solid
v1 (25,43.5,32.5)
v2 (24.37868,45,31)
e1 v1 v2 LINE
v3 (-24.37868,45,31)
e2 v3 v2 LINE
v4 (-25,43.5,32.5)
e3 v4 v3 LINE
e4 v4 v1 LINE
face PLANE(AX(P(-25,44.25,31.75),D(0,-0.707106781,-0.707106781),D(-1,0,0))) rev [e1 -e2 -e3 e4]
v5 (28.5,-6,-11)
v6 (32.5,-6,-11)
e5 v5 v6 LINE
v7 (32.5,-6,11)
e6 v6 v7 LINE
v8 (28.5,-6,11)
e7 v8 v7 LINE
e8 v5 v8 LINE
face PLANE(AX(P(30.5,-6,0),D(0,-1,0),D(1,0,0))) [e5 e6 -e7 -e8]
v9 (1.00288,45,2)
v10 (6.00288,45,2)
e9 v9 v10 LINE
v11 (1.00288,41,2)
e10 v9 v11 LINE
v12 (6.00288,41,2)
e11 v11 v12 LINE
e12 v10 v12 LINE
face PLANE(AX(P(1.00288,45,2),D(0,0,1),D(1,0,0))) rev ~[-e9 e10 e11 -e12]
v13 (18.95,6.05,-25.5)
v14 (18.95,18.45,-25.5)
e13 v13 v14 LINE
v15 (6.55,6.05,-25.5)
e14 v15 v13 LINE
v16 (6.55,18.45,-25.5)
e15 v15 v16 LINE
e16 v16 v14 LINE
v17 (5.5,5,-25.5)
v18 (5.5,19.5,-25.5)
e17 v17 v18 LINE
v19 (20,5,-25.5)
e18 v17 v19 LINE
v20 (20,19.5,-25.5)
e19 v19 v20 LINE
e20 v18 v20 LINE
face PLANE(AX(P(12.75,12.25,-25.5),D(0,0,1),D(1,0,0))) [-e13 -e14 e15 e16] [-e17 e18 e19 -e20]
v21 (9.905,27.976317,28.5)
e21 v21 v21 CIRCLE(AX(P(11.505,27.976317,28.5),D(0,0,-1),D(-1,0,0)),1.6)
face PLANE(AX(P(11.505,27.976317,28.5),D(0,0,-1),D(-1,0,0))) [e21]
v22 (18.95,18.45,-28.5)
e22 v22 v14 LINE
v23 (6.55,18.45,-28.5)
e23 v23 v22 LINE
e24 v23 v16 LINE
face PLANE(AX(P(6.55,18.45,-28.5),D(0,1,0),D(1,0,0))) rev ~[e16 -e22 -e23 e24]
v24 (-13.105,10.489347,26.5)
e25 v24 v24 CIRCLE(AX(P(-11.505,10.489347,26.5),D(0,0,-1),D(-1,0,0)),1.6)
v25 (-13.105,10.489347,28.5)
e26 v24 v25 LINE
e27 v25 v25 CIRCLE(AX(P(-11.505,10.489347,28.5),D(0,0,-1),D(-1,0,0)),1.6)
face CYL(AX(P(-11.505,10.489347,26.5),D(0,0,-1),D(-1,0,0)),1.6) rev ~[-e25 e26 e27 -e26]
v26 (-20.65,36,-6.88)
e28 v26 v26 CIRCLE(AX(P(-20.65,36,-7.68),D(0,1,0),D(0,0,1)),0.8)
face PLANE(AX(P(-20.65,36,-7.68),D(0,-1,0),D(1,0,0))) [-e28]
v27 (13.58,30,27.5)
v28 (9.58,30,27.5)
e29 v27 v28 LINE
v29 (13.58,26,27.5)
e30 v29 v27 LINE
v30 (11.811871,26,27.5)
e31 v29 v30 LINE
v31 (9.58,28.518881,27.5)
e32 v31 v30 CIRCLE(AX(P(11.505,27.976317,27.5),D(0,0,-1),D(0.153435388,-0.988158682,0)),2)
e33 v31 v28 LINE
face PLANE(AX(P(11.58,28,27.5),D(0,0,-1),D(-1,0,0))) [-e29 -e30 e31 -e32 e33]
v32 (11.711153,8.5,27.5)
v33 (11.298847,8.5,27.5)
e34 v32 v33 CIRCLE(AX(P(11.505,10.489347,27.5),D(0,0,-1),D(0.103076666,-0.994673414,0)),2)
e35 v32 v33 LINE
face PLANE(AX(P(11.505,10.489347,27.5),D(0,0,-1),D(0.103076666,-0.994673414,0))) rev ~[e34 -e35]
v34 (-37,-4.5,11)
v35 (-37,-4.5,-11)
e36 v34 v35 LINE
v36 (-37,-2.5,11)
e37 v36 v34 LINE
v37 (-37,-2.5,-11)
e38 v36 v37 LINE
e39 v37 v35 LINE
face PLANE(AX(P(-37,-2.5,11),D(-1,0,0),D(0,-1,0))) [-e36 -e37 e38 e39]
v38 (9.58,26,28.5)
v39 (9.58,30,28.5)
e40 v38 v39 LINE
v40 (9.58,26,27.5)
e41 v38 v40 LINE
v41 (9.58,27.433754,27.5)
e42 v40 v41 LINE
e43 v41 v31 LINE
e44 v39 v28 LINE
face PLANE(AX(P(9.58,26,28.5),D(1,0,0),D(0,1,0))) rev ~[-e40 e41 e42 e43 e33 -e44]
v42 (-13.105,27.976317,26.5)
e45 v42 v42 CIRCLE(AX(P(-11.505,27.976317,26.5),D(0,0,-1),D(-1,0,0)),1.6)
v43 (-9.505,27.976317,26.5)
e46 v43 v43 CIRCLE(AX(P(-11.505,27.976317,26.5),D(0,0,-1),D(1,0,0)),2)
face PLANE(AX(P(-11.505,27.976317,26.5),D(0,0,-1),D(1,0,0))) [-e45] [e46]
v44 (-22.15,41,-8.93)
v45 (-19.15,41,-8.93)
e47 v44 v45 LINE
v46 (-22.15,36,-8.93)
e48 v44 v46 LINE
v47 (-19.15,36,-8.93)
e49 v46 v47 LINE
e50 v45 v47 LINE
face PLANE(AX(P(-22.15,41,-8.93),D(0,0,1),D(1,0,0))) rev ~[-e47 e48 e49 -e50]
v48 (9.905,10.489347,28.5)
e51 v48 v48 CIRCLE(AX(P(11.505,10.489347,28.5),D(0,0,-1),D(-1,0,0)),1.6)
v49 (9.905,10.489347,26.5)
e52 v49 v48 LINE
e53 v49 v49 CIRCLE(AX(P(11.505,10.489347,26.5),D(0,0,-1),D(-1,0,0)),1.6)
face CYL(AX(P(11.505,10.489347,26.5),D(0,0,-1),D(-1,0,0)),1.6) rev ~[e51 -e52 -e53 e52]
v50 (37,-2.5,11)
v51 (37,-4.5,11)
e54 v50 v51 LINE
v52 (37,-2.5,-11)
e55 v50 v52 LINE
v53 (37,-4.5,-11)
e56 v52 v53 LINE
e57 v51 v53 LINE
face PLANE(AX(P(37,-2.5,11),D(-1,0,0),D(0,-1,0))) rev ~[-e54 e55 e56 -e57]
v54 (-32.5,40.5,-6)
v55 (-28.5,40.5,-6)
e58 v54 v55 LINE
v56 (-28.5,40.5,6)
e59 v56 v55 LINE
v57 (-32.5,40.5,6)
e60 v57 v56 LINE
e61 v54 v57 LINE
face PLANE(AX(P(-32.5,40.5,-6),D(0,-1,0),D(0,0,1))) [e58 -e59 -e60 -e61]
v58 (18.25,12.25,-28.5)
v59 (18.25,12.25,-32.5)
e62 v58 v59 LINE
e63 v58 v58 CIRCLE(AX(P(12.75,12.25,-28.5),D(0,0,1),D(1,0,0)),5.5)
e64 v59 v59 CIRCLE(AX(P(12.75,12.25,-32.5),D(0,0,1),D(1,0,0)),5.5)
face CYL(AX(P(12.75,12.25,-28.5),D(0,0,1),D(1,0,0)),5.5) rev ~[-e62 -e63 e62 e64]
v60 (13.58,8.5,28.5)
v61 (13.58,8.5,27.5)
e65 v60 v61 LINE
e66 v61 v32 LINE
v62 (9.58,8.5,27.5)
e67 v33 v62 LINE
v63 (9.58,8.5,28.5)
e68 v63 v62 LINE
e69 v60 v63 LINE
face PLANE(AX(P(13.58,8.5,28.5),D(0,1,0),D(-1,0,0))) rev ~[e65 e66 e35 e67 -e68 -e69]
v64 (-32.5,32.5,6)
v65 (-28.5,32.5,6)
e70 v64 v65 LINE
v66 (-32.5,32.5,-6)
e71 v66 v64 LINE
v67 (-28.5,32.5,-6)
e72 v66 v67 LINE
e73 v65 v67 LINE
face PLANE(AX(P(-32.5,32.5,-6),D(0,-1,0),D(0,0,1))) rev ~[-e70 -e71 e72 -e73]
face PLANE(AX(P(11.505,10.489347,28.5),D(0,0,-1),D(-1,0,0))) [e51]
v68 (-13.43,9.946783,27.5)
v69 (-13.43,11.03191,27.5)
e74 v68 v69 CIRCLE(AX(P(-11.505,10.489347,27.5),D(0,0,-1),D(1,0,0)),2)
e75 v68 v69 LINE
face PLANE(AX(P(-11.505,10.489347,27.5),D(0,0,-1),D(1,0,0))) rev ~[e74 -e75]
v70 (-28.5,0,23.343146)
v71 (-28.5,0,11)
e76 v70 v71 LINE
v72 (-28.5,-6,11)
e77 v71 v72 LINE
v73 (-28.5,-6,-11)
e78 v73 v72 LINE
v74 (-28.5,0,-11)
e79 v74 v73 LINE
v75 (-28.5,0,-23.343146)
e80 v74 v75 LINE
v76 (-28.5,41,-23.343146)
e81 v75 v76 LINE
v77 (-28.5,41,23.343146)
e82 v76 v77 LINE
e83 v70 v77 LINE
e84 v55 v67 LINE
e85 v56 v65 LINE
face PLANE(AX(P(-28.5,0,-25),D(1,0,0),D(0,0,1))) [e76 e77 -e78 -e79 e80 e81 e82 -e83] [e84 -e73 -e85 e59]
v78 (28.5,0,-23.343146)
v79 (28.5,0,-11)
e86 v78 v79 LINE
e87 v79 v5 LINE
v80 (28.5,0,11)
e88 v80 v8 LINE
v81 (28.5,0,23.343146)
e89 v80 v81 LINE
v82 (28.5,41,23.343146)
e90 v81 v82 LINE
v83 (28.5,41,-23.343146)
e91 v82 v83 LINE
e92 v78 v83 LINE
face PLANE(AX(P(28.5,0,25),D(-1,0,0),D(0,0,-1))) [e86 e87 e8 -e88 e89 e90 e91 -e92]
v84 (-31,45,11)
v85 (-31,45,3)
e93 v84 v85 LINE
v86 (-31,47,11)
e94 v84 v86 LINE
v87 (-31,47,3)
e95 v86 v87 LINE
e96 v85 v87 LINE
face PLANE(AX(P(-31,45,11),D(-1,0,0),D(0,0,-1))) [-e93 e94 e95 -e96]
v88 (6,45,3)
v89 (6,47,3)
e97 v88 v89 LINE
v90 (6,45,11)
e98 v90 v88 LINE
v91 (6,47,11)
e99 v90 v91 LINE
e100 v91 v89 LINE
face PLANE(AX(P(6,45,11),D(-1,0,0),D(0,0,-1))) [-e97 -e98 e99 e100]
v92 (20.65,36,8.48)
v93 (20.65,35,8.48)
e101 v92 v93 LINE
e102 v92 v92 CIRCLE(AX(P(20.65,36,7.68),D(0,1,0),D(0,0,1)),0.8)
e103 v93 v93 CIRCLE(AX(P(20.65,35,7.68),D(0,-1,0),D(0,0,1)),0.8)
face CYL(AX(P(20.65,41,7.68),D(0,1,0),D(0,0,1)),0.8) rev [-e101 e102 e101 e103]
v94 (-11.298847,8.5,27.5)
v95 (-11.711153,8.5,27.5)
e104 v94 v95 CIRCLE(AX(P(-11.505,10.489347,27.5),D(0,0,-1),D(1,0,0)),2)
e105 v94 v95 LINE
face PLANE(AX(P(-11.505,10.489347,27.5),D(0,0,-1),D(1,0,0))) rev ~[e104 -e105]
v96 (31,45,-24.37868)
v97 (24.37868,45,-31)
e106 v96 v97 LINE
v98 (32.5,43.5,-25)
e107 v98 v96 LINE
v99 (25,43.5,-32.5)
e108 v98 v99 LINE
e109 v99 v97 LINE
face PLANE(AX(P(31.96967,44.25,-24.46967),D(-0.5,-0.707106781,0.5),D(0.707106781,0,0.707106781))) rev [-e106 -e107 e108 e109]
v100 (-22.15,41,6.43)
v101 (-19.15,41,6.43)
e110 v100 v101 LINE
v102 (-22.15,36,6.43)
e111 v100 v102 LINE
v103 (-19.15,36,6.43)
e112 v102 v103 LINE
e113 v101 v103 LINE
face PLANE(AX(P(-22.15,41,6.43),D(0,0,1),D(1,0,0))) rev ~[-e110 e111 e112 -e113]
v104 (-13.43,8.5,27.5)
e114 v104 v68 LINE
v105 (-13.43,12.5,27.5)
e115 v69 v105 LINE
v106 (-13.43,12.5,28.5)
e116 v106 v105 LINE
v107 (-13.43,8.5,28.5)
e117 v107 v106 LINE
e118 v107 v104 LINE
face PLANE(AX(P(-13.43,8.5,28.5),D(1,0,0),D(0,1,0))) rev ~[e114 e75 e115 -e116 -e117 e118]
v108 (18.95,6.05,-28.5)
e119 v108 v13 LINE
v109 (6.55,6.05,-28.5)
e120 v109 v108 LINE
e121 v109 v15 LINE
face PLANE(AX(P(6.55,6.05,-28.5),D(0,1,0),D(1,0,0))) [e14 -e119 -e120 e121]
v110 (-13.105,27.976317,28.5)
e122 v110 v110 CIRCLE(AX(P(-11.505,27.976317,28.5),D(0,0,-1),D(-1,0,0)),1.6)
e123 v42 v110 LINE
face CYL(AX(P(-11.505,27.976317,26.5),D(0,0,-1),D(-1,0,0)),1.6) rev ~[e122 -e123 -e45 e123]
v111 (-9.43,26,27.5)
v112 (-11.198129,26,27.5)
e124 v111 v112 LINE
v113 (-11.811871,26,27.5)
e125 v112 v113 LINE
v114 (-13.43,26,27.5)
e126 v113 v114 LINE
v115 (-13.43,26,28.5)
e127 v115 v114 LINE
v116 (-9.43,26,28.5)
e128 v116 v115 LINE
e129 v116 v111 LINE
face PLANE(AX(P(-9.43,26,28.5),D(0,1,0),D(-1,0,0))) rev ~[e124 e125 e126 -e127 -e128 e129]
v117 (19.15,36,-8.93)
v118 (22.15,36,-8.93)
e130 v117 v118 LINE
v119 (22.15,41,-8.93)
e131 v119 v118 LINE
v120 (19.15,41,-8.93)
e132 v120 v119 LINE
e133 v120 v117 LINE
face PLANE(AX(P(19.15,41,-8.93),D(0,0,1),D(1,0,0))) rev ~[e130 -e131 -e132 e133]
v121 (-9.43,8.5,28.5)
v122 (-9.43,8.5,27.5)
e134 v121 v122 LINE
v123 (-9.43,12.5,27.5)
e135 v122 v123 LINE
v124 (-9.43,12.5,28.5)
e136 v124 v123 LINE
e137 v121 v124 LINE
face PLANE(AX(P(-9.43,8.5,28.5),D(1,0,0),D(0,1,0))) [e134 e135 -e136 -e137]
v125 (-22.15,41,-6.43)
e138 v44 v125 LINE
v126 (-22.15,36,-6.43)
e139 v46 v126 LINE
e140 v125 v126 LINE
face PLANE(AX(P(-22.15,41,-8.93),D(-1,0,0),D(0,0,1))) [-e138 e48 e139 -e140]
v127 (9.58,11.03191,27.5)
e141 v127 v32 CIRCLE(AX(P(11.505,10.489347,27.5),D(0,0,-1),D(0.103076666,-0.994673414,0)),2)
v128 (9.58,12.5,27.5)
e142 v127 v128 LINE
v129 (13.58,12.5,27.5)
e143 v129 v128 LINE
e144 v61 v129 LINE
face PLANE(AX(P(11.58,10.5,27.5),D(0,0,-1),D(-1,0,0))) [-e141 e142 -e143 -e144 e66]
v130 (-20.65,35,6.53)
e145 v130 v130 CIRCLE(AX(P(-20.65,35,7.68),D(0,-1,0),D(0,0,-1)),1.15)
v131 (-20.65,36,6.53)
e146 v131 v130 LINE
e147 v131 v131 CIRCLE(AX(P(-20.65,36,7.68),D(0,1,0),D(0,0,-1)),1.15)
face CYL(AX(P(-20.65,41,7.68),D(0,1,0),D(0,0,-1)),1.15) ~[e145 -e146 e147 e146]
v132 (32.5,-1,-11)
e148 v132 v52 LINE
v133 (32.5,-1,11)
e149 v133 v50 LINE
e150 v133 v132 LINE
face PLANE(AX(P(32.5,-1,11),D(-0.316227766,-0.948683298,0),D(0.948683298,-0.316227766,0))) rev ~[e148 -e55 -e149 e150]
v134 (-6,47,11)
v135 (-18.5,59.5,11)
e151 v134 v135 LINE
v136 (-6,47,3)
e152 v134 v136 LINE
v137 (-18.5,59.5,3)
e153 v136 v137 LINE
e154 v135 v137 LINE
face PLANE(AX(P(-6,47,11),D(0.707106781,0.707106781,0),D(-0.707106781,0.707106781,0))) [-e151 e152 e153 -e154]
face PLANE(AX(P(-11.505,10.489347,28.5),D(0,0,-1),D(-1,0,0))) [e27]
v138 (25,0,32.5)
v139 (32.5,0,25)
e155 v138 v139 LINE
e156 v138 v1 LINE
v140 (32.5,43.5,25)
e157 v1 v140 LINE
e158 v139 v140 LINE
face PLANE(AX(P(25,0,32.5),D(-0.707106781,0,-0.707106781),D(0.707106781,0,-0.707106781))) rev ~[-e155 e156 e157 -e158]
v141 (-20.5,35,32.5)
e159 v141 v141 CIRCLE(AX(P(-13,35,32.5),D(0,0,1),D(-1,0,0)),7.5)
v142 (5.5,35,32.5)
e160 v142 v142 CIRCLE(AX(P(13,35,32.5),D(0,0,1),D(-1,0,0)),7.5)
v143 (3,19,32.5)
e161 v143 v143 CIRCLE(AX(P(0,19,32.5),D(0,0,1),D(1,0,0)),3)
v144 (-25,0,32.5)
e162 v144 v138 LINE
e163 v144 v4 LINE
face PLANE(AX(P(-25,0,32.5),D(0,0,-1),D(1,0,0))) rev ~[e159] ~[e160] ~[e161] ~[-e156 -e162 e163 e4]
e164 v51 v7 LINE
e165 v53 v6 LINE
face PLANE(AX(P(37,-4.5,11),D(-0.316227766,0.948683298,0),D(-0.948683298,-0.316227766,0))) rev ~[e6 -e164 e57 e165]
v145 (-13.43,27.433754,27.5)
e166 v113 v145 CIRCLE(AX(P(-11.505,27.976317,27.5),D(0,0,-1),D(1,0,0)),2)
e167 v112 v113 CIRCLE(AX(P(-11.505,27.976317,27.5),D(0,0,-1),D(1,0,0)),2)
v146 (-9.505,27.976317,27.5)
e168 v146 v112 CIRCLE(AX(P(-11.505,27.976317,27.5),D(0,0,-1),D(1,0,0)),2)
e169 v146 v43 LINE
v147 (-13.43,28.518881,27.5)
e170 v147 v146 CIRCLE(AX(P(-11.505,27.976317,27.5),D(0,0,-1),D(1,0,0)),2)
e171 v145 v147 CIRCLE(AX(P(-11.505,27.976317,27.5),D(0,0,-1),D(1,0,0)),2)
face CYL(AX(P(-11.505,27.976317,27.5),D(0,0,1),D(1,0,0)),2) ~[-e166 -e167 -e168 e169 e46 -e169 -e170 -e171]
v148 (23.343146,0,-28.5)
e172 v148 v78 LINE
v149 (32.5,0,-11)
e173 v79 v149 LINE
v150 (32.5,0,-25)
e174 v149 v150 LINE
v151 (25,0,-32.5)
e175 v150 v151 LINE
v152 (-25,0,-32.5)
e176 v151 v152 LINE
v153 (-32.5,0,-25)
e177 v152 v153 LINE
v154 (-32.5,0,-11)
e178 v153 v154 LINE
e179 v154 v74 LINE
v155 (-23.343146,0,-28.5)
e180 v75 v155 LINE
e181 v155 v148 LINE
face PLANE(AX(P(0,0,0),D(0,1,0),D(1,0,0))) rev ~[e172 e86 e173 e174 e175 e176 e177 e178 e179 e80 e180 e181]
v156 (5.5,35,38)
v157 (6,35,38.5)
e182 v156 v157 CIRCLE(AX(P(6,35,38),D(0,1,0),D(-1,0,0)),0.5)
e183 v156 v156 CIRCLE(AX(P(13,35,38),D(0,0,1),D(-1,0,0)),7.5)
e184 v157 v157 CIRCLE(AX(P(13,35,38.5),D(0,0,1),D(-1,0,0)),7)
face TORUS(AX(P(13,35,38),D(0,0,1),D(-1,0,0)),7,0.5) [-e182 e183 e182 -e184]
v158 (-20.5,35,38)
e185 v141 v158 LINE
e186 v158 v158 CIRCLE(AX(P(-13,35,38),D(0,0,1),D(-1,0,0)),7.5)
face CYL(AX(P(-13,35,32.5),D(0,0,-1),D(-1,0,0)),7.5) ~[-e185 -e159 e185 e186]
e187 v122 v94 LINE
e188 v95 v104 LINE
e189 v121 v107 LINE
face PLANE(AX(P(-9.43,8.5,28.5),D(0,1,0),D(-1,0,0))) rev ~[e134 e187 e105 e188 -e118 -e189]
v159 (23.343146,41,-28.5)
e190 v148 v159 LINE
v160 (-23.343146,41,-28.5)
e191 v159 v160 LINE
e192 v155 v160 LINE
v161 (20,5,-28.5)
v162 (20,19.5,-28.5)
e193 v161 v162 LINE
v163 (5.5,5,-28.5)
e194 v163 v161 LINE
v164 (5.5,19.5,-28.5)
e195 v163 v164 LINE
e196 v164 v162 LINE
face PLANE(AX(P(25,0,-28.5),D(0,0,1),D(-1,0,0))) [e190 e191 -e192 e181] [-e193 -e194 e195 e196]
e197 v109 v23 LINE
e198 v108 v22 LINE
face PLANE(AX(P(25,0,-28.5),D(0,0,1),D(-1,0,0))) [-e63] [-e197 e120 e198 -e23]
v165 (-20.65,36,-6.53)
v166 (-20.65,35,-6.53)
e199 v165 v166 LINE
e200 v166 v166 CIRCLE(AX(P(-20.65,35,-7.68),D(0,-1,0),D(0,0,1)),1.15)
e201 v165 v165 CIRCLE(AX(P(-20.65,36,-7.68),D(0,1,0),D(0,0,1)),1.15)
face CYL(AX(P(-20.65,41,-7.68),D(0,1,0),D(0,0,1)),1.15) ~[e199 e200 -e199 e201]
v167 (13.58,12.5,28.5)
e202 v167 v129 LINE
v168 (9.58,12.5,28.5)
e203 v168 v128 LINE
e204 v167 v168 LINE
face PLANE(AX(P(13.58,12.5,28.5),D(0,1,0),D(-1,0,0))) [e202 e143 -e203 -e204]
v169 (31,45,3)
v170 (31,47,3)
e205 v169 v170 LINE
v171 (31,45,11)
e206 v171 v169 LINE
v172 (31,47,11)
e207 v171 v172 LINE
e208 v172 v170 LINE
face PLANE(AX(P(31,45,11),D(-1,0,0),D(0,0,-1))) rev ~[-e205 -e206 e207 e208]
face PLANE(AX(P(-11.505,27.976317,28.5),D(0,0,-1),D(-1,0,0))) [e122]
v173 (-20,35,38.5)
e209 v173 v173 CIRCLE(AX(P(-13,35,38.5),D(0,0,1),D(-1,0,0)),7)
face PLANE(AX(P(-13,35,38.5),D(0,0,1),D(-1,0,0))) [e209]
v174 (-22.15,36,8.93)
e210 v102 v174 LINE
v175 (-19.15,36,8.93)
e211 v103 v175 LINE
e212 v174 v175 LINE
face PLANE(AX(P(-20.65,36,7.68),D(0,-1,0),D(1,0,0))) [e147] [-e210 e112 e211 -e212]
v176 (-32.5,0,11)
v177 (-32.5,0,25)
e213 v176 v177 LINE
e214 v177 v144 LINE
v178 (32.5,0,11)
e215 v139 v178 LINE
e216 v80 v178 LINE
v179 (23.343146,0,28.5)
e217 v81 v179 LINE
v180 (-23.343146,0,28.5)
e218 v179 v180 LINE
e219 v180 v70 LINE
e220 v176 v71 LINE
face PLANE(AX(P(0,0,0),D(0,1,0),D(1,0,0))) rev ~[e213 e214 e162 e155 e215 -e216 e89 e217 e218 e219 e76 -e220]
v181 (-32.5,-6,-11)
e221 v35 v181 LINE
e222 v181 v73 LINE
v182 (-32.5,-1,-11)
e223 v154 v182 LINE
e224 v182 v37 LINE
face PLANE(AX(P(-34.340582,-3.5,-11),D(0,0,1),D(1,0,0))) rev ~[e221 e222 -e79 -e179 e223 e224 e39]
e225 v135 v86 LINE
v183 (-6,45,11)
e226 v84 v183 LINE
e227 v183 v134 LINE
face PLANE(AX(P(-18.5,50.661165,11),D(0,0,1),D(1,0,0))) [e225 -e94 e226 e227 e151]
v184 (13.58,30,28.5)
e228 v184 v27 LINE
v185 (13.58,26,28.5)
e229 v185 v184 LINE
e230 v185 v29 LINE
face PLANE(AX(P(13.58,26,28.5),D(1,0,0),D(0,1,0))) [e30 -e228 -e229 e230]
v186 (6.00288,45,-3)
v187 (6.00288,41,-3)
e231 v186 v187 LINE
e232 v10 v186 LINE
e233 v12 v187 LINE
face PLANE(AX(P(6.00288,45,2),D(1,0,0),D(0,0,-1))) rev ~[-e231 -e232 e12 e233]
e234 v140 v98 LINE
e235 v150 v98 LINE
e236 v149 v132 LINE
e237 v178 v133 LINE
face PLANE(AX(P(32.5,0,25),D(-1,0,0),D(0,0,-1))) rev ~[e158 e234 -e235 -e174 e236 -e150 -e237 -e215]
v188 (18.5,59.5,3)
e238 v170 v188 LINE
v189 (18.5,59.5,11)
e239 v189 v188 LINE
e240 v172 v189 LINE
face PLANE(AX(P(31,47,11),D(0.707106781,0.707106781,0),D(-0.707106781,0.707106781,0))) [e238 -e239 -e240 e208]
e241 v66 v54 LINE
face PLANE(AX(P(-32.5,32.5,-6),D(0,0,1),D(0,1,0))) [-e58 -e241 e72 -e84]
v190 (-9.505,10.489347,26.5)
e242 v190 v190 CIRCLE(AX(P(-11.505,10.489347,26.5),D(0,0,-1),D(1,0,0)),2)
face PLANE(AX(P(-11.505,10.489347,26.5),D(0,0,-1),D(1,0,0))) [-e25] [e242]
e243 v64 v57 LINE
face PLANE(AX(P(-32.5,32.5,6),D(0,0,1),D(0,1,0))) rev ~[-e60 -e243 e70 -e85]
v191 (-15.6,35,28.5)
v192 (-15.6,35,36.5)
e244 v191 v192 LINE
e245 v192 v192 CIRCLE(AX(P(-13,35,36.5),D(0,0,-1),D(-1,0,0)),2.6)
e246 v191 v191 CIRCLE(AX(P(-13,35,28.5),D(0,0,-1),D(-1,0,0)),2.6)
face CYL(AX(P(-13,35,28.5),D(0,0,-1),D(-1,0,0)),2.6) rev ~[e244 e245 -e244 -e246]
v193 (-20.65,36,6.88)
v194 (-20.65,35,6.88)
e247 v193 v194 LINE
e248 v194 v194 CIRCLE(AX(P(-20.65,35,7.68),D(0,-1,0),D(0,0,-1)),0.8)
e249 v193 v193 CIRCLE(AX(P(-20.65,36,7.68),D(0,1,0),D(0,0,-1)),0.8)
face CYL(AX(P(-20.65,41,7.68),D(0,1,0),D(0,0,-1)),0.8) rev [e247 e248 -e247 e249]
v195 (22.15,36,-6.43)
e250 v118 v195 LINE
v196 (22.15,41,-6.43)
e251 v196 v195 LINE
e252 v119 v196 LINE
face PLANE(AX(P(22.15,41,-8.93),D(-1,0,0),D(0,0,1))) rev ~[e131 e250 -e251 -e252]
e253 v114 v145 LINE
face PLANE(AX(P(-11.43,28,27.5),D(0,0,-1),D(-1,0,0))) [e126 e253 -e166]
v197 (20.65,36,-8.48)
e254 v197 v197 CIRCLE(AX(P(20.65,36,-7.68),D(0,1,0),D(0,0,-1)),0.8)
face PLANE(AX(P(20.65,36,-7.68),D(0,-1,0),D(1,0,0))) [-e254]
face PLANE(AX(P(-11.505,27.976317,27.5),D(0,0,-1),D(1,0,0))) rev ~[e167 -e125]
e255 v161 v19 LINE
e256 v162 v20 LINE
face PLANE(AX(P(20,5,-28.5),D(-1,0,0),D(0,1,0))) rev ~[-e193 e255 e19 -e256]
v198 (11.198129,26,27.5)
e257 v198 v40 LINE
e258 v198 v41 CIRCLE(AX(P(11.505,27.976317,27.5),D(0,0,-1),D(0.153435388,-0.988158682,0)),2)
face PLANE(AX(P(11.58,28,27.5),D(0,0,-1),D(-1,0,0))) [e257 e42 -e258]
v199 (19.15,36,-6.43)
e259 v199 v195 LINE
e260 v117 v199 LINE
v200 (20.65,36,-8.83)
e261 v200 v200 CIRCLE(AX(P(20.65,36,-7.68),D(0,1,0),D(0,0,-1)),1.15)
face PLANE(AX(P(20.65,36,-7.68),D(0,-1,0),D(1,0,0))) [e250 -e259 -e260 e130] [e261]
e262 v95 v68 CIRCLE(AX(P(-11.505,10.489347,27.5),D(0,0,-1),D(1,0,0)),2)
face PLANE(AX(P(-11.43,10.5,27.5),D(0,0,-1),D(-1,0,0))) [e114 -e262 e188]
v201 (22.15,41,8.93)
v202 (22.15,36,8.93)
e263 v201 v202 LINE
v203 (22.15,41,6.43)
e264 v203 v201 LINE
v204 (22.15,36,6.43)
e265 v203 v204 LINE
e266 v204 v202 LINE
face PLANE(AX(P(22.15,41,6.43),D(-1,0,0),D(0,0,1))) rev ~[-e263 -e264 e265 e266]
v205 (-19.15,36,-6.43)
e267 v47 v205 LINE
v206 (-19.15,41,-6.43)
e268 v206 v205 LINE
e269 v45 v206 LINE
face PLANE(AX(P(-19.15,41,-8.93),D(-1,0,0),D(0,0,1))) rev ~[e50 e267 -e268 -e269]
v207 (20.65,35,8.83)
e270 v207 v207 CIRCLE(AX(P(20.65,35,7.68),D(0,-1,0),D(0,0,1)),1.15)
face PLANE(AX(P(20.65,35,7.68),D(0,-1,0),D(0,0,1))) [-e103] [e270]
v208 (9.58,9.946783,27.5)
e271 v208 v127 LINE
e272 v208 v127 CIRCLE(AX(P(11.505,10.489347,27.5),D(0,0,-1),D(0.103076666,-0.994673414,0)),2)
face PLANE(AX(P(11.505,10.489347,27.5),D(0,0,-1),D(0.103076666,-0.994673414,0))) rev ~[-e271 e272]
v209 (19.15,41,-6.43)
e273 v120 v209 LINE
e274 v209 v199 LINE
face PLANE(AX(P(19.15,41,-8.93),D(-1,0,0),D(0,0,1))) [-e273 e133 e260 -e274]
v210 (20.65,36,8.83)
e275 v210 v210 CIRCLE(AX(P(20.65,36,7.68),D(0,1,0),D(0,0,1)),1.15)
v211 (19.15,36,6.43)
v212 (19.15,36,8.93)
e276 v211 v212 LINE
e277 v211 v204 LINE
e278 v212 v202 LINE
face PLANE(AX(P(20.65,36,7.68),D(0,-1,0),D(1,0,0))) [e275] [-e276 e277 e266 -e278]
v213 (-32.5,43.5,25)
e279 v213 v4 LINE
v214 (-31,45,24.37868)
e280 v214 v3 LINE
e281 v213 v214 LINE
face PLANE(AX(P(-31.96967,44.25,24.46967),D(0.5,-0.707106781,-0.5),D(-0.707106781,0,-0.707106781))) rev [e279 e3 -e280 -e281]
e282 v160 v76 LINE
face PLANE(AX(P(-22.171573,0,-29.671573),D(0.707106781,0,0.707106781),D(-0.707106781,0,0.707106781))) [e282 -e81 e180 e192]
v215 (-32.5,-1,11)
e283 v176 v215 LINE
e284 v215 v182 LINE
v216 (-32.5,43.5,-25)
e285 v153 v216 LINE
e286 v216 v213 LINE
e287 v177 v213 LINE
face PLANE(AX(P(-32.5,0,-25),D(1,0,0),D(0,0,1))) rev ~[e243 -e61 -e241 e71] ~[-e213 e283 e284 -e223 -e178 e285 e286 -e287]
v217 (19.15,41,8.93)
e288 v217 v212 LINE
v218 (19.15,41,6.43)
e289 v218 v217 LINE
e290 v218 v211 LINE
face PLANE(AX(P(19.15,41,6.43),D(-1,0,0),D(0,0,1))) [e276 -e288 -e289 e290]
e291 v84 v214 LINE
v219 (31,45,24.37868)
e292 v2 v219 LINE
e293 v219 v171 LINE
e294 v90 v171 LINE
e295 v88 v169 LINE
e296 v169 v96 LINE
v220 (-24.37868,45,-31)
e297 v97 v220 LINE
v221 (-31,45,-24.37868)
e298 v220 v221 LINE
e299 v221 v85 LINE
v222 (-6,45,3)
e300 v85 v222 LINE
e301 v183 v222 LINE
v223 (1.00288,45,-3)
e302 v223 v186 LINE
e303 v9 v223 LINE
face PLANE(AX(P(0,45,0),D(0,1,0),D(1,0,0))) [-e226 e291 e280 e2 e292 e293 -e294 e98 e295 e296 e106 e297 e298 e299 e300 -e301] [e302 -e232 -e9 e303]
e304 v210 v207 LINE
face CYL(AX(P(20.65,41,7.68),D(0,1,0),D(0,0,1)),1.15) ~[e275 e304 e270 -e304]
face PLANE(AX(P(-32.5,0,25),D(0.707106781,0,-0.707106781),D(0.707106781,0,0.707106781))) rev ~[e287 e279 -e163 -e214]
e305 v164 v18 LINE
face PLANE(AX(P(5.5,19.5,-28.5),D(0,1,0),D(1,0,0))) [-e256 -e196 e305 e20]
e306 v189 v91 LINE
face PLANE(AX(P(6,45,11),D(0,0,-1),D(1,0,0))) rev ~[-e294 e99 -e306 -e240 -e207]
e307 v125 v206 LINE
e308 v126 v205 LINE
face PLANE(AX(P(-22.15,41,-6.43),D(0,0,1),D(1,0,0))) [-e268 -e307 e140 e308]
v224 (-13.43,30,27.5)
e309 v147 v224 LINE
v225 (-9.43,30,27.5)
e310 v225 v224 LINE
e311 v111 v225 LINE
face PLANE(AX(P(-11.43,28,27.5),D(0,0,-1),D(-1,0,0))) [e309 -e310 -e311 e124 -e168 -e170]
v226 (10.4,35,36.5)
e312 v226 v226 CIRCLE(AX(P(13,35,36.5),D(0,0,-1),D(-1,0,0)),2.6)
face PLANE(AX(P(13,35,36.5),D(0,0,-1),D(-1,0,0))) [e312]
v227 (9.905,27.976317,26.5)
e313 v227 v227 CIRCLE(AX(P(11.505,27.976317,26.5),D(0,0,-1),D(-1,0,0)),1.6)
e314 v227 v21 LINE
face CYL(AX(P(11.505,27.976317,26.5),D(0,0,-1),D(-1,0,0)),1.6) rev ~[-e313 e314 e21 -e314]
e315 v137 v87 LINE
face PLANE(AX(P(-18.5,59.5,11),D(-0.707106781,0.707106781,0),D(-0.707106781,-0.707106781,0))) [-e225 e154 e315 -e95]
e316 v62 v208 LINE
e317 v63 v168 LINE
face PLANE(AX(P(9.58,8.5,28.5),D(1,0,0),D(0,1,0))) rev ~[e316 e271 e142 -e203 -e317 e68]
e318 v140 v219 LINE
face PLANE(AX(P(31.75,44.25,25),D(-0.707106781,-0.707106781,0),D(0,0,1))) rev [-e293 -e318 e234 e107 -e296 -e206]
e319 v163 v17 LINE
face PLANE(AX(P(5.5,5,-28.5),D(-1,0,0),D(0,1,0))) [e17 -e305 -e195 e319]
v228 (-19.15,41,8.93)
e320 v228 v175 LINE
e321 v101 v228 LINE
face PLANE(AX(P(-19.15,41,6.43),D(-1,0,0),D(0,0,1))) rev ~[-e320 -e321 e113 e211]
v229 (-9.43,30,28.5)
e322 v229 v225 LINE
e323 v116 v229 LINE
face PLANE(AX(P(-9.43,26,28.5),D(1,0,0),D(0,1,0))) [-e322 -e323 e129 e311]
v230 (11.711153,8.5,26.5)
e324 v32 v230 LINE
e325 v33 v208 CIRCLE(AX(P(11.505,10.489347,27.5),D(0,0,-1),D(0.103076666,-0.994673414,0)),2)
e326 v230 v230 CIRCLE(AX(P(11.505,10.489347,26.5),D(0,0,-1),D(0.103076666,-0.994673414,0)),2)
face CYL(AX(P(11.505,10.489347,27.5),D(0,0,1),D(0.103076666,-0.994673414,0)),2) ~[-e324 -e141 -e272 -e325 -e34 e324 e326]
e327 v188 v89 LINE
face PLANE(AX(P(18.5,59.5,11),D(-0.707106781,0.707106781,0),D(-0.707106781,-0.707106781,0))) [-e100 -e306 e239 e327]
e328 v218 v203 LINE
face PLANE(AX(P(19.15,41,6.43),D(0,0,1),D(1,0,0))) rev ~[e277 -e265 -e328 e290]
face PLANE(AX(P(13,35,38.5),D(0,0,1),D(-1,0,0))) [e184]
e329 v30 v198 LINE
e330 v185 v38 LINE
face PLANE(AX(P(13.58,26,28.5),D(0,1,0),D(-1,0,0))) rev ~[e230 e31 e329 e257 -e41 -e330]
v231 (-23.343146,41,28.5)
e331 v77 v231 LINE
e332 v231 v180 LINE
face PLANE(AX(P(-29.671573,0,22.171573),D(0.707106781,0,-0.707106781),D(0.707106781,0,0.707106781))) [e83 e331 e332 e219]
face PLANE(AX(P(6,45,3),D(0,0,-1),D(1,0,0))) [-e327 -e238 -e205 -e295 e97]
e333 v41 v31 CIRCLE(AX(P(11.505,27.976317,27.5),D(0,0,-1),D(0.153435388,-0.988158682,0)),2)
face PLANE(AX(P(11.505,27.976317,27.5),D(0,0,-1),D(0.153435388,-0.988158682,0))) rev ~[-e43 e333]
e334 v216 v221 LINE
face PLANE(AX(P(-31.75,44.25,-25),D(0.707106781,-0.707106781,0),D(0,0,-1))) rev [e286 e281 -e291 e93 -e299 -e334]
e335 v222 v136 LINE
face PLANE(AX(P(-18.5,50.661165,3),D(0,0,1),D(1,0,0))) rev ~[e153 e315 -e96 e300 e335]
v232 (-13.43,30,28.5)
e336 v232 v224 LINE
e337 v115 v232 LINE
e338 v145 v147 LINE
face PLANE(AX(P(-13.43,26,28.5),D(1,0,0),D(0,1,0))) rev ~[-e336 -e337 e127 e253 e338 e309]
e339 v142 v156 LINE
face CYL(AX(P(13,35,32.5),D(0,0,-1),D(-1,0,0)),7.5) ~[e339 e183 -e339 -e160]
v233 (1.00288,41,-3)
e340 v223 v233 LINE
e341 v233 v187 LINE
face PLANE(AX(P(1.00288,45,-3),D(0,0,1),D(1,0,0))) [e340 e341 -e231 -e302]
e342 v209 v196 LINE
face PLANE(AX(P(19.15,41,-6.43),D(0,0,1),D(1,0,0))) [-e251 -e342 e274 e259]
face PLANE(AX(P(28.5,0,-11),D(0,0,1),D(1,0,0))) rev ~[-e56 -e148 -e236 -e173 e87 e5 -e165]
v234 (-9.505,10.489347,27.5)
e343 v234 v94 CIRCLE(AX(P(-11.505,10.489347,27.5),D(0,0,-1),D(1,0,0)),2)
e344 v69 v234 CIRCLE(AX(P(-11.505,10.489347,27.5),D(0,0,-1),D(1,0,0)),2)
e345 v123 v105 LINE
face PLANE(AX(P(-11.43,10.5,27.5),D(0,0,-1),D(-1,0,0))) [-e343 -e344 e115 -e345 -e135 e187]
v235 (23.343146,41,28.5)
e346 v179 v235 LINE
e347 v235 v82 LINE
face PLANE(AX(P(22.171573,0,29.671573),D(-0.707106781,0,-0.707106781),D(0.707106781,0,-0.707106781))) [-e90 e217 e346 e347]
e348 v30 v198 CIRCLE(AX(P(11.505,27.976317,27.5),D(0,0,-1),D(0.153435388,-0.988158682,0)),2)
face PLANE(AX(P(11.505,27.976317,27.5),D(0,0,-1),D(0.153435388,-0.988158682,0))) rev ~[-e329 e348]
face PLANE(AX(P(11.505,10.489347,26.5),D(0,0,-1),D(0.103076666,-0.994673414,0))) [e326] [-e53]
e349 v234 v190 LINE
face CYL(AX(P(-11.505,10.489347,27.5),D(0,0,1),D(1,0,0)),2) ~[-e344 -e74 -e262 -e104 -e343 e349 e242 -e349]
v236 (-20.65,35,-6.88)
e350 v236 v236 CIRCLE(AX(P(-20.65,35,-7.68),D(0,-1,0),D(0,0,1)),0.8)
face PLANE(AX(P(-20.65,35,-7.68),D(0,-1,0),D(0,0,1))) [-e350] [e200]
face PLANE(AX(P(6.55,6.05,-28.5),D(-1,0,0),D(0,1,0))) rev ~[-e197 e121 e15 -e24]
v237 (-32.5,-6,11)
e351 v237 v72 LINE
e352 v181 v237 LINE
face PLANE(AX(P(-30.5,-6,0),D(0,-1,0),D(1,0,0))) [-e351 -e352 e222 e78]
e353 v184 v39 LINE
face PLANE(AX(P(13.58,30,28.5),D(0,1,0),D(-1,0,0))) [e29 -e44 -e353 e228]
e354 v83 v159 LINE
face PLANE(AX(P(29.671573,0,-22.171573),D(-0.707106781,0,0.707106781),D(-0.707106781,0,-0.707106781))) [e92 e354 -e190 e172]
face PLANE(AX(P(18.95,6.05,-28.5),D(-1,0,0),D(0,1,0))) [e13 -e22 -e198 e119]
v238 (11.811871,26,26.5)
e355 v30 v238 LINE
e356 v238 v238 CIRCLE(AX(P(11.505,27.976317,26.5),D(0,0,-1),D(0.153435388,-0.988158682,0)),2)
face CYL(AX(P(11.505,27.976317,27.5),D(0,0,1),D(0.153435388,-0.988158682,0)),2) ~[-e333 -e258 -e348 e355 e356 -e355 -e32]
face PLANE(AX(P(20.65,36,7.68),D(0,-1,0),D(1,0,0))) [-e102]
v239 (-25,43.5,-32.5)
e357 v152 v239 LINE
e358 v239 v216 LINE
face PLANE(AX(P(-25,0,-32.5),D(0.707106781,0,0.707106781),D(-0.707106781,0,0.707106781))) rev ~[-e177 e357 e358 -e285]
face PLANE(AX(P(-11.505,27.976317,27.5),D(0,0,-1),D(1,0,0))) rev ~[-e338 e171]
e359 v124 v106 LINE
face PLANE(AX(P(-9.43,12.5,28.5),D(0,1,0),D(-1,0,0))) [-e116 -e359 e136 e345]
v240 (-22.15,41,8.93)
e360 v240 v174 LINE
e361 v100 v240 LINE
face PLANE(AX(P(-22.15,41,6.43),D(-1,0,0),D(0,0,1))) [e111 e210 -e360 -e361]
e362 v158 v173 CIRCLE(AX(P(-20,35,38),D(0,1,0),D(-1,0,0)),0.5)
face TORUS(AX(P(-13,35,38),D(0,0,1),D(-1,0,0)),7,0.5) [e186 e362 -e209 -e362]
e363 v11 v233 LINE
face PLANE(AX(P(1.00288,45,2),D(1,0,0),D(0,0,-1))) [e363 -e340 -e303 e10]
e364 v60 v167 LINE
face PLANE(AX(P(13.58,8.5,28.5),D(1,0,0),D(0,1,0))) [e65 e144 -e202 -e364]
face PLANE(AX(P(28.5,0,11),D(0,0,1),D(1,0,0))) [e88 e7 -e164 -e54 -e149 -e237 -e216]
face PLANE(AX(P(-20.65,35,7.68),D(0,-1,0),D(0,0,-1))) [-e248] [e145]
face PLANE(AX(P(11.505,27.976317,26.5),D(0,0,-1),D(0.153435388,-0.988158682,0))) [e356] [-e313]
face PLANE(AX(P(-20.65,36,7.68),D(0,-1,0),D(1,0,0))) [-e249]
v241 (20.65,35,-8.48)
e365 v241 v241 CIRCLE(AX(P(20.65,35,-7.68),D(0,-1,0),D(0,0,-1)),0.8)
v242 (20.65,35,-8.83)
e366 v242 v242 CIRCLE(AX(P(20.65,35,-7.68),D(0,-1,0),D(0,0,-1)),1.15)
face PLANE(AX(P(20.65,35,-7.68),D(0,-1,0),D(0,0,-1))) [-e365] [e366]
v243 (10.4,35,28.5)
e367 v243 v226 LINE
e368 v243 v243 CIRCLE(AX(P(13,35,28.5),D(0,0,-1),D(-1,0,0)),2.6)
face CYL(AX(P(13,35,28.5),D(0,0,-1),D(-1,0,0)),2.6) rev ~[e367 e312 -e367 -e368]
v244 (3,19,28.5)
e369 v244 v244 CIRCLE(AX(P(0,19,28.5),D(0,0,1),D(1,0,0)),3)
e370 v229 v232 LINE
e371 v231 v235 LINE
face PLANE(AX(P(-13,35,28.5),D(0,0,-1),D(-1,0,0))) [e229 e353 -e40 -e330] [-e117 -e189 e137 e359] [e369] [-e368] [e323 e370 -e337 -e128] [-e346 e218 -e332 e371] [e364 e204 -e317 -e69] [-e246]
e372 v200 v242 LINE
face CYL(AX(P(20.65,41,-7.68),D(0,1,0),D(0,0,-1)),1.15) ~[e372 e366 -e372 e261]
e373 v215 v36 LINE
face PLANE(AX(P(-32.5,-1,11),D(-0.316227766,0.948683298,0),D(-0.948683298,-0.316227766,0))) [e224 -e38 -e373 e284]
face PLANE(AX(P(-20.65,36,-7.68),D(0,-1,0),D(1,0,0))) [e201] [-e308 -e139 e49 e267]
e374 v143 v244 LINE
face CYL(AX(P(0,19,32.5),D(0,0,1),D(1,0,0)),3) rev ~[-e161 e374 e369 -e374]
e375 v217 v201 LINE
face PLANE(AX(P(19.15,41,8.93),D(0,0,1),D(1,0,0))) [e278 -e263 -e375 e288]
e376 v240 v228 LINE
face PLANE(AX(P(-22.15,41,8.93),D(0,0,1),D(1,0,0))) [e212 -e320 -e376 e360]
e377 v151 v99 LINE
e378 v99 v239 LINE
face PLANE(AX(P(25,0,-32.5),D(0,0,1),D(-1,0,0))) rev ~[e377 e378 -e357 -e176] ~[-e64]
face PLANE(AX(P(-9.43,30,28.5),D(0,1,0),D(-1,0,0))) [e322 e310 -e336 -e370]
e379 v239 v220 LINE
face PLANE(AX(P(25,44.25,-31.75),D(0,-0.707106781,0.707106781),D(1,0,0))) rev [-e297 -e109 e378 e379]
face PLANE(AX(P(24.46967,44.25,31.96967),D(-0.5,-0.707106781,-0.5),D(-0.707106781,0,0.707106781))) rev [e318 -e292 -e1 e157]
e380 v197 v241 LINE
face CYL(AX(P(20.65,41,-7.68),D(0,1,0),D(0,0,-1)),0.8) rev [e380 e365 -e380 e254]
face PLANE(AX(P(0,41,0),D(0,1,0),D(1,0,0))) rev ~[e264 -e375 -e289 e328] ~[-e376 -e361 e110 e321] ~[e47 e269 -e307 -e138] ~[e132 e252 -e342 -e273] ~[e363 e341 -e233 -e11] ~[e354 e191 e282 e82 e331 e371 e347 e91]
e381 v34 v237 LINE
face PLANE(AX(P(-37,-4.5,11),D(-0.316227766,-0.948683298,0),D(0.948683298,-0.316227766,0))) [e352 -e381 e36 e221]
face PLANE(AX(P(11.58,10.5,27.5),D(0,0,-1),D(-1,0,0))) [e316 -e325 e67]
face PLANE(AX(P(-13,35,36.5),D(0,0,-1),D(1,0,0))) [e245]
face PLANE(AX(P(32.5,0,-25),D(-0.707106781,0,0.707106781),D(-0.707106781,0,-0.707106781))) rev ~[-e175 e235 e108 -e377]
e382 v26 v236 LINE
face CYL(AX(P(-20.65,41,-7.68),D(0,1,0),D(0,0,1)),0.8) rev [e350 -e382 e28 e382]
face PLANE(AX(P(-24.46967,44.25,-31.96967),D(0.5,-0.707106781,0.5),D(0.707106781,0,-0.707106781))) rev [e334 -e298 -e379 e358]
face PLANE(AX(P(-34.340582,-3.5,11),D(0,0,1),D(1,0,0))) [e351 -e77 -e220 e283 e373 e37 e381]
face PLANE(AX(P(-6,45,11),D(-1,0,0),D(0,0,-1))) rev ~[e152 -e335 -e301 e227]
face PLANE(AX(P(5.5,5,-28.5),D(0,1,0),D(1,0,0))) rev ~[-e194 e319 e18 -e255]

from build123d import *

# Parameters (mm, degrees)
SALIENTE_EXTRUIR1_DEPTH  = 45
VACIADO2_T               = -4
CHAFL_N3_SIZE            = 1.5
CROQUIS2_R               = 7.5
SALIENTE_EXTRUIR2_DEPTH  = 6
CROQUIS4_R               = 5
CORTAR_EXTRUIR2_DEPTH    = 8
REDONDEO1_R              = 0.5
CROQUIS5_R               = 3
CORTAR_EXTRUIR3_DEPTH    = 10
SALIENTE_EXTRUIR8_START  = 8
CROQUIS13_R              = 5
CROQUIS13_R_2            = 2.6
SALIENTE_EXTRUIR8_DEPTH  = 8
CROQUIS7_W               = 4
CROQUIS7_H               = 4
SALIENTE_EXTRUIR3_DEPTH  = 1
CROQUIS8_R               = 2
SALIENTE_EXTRUIR4_DEPTH  = 1
CROQUIS9_R               = 1.6
CORTAR_EXTRUIR5_DEPTH    = 2
CROQUIS10_W              = 25
CROQUIS10_H              = 8
SALIENTE_EXTRUIR5_DEPTH  = 2
SALIENTE_EXTRUIR6_DEPTH  = 8
CROQUIS12_R              = 1.15
CROQUIS12_R_2            = 0.8
SALIENTE_EXTRUIR7_DEPTH  = 6
CROQUIS14_W              = 3
CROQUIS14_H              = 2.5
SALIENTE_EXTRUIR9_DEPTH  = 5
CROQUIS15_W              = 12
CROQUIS15_H              = 8
CORTAR_EXTRUIR6_DEPTH    = 7
CROQUIS16_W              = 14.5
CROQUIS16_H              = 14.5
CROQUIS16_W_2            = 12.4
CROQUIS16_H_2            = 12.4
SALIENTE_EXTRUIR10_DEPTH = 3
CROQUIS17_R              = 5.5
CORTAR_EXTRUIR7_DEPTH    = 96.317889192
CROQUIS18_W              = 4
CROQUIS18_H              = 22
SALIENTE_EXTRUIR11_DEPTH = 6
SALIENTE_EXTRUIR13_DEPTH = 22
CROQUIS20_W              = 5
CROQUIS20_H              = 5
CORTAR_EXTRUIR8_DEPTH    = 10


with BuildPart() as part:
    # Croquis1 → Saliente-Extruir1 (new body)
    with BuildSketch(Plane(origin=(0, 0, 0), x_dir=(1, 0, 0), z_dir=(0, 1, 0))):
        Polygon((-25, -32.5), (25, -32.5), (32.5, -25), (32.5, 25), (25, 32.5), (-25, 32.5), (-32.5, 25), (-32.5, -25), align=None)
    extrude(amount=SALIENTE_EXTRUIR1_DEPTH)

    # Vaciado2
    vaciado2_openings = [part.faces().sort_by_distance(p)[0] for p in [
        (0, 0, 0),
    ]]
    offset(amount=VACIADO2_T, openings=vaciado2_openings, kind=Kind.INTERSECTION)

    # Chaflán3
    chafl_n3_edges = [part.edges().sort_by_distance(p)[0] for p in [
        (-28.75, 45, -28.75),
        (-32.5, 45, 0),
        (-28.75, 45, 28.75),
        (0, 45, 32.5),
        (28.75, 45, 28.75),
        (32.5, 45, 0),
        (28.75, 45, -28.75),
        (0, 45, -32.5),
    ]]
    chamfer(chafl_n3_edges, length=CHAFL_N3_SIZE)

    # Croquis2 → Saliente-Extruir2 (add)
    with BuildSketch(Plane.XY.offset(32.5)):
        with Locations(Location((13, 35, 0), (0, 0, 180))):
            Circle(CROQUIS2_R)
        with Locations(Location((-13, 35, 0), (0, 0, 180))):
            Circle(CROQUIS2_R)
    extrude(amount=SALIENTE_EXTRUIR2_DEPTH)

    # Croquis4 → Cortar-Extruir2 (cut)
    with BuildSketch(Plane(origin=(0, 0, 28.5), x_dir=(-1, 0, 0), z_dir=(0, 0, -1))):
        with Locations((-13, 35)):
            Circle(CROQUIS4_R)
        with Locations(Location((13, 35, 0), (0, 0, 180))):
            Circle(CROQUIS4_R)
    extrude(amount=-CORTAR_EXTRUIR2_DEPTH, mode=Mode.SUBTRACT)

    # Redondeo1
    redondeo1_edges = [part.edges().sort_by_distance(p)[0] for p in [
        (20.5, 35, 38.5),
        (-5.5, 35, 38.5),
    ]]
    fillet(redondeo1_edges, radius=REDONDEO1_R)

    # Croquis5 → Cortar-Extruir3 (cut)
    with BuildSketch(Plane.XY.offset(32.5)):
        with Locations((0, 19)):
            Circle(CROQUIS5_R)
    extrude(amount=-CORTAR_EXTRUIR3_DEPTH, mode=Mode.SUBTRACT)

    # Croquis13 → Saliente-Extruir8 (add)
    # profile 1 of 2: a face of its own
    with BuildSketch(Plane(origin=(0, 0, 36.5), x_dir=(-1, 0, 0), z_dir=(0, 0, -1)).offset(SALIENTE_EXTRUIR8_START)):
        with Locations((13, 35)):
            Circle(CROQUIS13_R)
        with Locations((13, 35)):
            Circle(CROQUIS13_R_2, mode=Mode.SUBTRACT)
    # profile 2 of 2: a face of its own
    with BuildSketch(Plane(origin=(0, 0, 36.5), x_dir=(-1, 0, 0), z_dir=(0, 0, -1)).offset(SALIENTE_EXTRUIR8_START)):
        with Locations((-13, 35)):
            Circle(CROQUIS13_R)
        with Locations((-13, 35)):
            Circle(CROQUIS13_R_2, mode=Mode.SUBTRACT)
    extrude(amount=-SALIENTE_EXTRUIR8_DEPTH)

    # Croquis7 → Saliente-Extruir3 (add)
    with BuildSketch(Plane(origin=(0, 0, 28.5), x_dir=(-1, 0, 0), z_dir=(0, 0, -1))):
        with Locations((-11.58, 10.5)):
            Rectangle(CROQUIS7_W, CROQUIS7_H)
        with Locations((-11.58, 28)):
            Rectangle(CROQUIS7_W, CROQUIS7_H)
        with Locations((11.43, 10.5)):
            Rectangle(CROQUIS7_W, CROQUIS7_H)
        with Locations((11.43, 28)):
            Rectangle(CROQUIS7_W, CROQUIS7_H)
    extrude(amount=SALIENTE_EXTRUIR3_DEPTH)

    # Croquis8 → Saliente-Extruir4 (add)
    with BuildSketch(Plane(origin=(0, 0, 27.5), x_dir=(-1, 0, 0), z_dir=(0, 0, -1))):
        with Locations(Location((-11.505, 10.489346828, 0), (0, 0, 264.083633631))):
            Circle(CROQUIS8_R)
        with Locations(Location((-11.505, 27.976317365, 0), (0, 0, 261.173934846))):
            Circle(CROQUIS8_R)
        with Locations(Location((11.505, 10.489346828, 0), (0, 0, 180))):
            Circle(CROQUIS8_R)
        with Locations(Location((11.505, 27.976317365, 0), (0, 0, 180))):
            Circle(CROQUIS8_R)
    extrude(amount=SALIENTE_EXTRUIR4_DEPTH)

    # Croquis9 → Cortar-Extruir5 (cut)
    with BuildSketch(Plane(origin=(0, 0, 26.5), x_dir=(-1, 0, 0), z_dir=(0, 0, -1))):
        with Locations((-11.505, 27.976317365)):
            Circle(CROQUIS9_R)
        with Locations((-11.505, 10.489346828)):
            Circle(CROQUIS9_R)
        with Locations((11.505, 10.489346828)):
            Circle(CROQUIS9_R)
        with Locations((11.505, 27.976317365)):
            Circle(CROQUIS9_R)
    extrude(amount=-CORTAR_EXTRUIR5_DEPTH, mode=Mode.SUBTRACT)

    # Croquis10 → Saliente-Extruir5 (add)
    with BuildSketch(Plane(origin=(0, 45, 0), x_dir=(1, 0, 0), z_dir=(0, 1, 0))):
        with Locations((-18.5, -7)):
            Rectangle(CROQUIS10_W, CROQUIS10_H)
        with Locations((18.5, -7)):
            Rectangle(CROQUIS10_W, CROQUIS10_H)
    extrude(amount=SALIENTE_EXTRUIR5_DEPTH)

    # Croquis11 → Saliente-Extruir6 (add)
    with BuildSketch(Plane.XY.offset(11)):
        Polygon((-31, 47), (-6, 47), (-18.5, 59.5), align=None)
        Polygon((31, 47), (18.5, 59.5), (6, 47), align=None)
    extrude(amount=-SALIENTE_EXTRUIR6_DEPTH)

    # Croquis12 → Saliente-Extruir7 (add)
    # profile 1 of 4: a face of its own
    with BuildSketch(Plane.XZ.offset(-41)):
        with Locations(Location((-20.65, 7.68, 0), (0, 0, 270))):
            Circle(CROQUIS12_R)
        with Locations(Location((-20.65, 7.68, 0), (0, 0, 270))):
            Circle(CROQUIS12_R_2, mode=Mode.SUBTRACT)
    # profile 2 of 4: a face of its own
    with BuildSketch(Plane.XZ.offset(-41)):
        with Locations(Location((-20.65, -7.68, 0), (0, 0, 90))):
            Circle(CROQUIS12_R)
        with Locations(Location((-20.65, -7.68, 0), (0, 0, 90))):
            Circle(CROQUIS12_R_2, mode=Mode.SUBTRACT)
    # profile 3 of 4: a face of its own
    with BuildSketch(Plane.XZ.offset(-41)):
        with Locations(Location((20.65, 7.68, 0), (0, 0, 90))):
            Circle(CROQUIS12_R)
        with Locations(Location((20.65, 7.68, 0), (0, 0, 90))):
            Circle(CROQUIS12_R_2, mode=Mode.SUBTRACT)
    # profile 4 of 4: a face of its own
    with BuildSketch(Plane.XZ.offset(-41)):
        with Locations(Location((20.65, -7.68, 0), (0, 0, 270))):
            Circle(CROQUIS12_R)
        with Locations(Location((20.65, -7.68, 0), (0, 0, 270))):
            Circle(CROQUIS12_R_2, mode=Mode.SUBTRACT)
    extrude(amount=SALIENTE_EXTRUIR7_DEPTH)

    # Croquis14 → Saliente-Extruir9 (add)
    with BuildSketch(Plane.XZ.offset(-41)):
        with Locations((-20.65, 7.68)):
            Rectangle(CROQUIS14_W, CROQUIS14_H)
        with Locations((-20.65, -7.68)):
            Rectangle(CROQUIS14_W, CROQUIS14_H)
        with Locations((20.65, 7.68)):
            Rectangle(CROQUIS14_W, CROQUIS14_H)
        with Locations((20.65, -7.68)):
            Rectangle(CROQUIS14_W, CROQUIS14_H)
    extrude(amount=SALIENTE_EXTRUIR9_DEPTH)

    # Croquis15 → Cortar-Extruir6 (cut)
    with BuildSketch(Plane.ZY.offset(32.5)):
        with Locations((0, 36.5)):
            Rectangle(CROQUIS15_W, CROQUIS15_H)
    extrude(amount=-CORTAR_EXTRUIR6_DEPTH, mode=Mode.SUBTRACT)

    # Croquis16 → Saliente-Extruir10 (add)
    with BuildSketch(Plane.XY.offset(-28.5)):
        with Locations((12.75, 12.25)):
            Rectangle(CROQUIS16_W, CROQUIS16_H)
        with Locations((12.75, 12.25)):
            Rectangle(CROQUIS16_W_2, CROQUIS16_H_2, mode=Mode.SUBTRACT)
    extrude(amount=SALIENTE_EXTRUIR10_DEPTH)

    # Croquis17 → Cortar-Extruir7 (cut, through all)
    with BuildSketch(Plane.XY.offset(-28.5)):
        with Locations((12.75, 12.25)):
            Circle(CROQUIS17_R)
    extrude(amount=-CORTAR_EXTRUIR7_DEPTH, mode=Mode.SUBTRACT)

    # Croquis18 → Saliente-Extruir11 (add)
    with BuildSketch(Plane.XZ):
        with Locations((-30.5, 0)):
            Rectangle(CROQUIS18_W, CROQUIS18_H)
        with Locations((30.5, 0)):
            Rectangle(CROQUIS18_W, CROQUIS18_H)
    extrude(amount=SALIENTE_EXTRUIR11_DEPTH)

    # Croquis19 → Saliente-Extruir13 (add)
    with BuildSketch(Plane.XY.offset(11)):
        Polygon((-32.5, -1), (-37, -2.5), (-37, -4.5), (-32.5, -6), align=None)
        Polygon((37, -2.5), (37, -4.5), (32.5, -6), (32.5, -1), align=None)
    extrude(amount=-SALIENTE_EXTRUIR13_DEPTH)

    # Croquis20 → Cortar-Extruir8 (cut)
    with BuildSketch(Plane(origin=(0, 45, 0), x_dir=(1, 0, 0), z_dir=(0, 1, 0))):
        with Locations((3.50287975, 0.5)):
            Rectangle(CROQUIS20_W, CROQUIS20_H)
    extrude(amount=-CORTAR_EXTRUIR8_DEPTH, mode=Mode.SUBTRACT)


solid = part.part
